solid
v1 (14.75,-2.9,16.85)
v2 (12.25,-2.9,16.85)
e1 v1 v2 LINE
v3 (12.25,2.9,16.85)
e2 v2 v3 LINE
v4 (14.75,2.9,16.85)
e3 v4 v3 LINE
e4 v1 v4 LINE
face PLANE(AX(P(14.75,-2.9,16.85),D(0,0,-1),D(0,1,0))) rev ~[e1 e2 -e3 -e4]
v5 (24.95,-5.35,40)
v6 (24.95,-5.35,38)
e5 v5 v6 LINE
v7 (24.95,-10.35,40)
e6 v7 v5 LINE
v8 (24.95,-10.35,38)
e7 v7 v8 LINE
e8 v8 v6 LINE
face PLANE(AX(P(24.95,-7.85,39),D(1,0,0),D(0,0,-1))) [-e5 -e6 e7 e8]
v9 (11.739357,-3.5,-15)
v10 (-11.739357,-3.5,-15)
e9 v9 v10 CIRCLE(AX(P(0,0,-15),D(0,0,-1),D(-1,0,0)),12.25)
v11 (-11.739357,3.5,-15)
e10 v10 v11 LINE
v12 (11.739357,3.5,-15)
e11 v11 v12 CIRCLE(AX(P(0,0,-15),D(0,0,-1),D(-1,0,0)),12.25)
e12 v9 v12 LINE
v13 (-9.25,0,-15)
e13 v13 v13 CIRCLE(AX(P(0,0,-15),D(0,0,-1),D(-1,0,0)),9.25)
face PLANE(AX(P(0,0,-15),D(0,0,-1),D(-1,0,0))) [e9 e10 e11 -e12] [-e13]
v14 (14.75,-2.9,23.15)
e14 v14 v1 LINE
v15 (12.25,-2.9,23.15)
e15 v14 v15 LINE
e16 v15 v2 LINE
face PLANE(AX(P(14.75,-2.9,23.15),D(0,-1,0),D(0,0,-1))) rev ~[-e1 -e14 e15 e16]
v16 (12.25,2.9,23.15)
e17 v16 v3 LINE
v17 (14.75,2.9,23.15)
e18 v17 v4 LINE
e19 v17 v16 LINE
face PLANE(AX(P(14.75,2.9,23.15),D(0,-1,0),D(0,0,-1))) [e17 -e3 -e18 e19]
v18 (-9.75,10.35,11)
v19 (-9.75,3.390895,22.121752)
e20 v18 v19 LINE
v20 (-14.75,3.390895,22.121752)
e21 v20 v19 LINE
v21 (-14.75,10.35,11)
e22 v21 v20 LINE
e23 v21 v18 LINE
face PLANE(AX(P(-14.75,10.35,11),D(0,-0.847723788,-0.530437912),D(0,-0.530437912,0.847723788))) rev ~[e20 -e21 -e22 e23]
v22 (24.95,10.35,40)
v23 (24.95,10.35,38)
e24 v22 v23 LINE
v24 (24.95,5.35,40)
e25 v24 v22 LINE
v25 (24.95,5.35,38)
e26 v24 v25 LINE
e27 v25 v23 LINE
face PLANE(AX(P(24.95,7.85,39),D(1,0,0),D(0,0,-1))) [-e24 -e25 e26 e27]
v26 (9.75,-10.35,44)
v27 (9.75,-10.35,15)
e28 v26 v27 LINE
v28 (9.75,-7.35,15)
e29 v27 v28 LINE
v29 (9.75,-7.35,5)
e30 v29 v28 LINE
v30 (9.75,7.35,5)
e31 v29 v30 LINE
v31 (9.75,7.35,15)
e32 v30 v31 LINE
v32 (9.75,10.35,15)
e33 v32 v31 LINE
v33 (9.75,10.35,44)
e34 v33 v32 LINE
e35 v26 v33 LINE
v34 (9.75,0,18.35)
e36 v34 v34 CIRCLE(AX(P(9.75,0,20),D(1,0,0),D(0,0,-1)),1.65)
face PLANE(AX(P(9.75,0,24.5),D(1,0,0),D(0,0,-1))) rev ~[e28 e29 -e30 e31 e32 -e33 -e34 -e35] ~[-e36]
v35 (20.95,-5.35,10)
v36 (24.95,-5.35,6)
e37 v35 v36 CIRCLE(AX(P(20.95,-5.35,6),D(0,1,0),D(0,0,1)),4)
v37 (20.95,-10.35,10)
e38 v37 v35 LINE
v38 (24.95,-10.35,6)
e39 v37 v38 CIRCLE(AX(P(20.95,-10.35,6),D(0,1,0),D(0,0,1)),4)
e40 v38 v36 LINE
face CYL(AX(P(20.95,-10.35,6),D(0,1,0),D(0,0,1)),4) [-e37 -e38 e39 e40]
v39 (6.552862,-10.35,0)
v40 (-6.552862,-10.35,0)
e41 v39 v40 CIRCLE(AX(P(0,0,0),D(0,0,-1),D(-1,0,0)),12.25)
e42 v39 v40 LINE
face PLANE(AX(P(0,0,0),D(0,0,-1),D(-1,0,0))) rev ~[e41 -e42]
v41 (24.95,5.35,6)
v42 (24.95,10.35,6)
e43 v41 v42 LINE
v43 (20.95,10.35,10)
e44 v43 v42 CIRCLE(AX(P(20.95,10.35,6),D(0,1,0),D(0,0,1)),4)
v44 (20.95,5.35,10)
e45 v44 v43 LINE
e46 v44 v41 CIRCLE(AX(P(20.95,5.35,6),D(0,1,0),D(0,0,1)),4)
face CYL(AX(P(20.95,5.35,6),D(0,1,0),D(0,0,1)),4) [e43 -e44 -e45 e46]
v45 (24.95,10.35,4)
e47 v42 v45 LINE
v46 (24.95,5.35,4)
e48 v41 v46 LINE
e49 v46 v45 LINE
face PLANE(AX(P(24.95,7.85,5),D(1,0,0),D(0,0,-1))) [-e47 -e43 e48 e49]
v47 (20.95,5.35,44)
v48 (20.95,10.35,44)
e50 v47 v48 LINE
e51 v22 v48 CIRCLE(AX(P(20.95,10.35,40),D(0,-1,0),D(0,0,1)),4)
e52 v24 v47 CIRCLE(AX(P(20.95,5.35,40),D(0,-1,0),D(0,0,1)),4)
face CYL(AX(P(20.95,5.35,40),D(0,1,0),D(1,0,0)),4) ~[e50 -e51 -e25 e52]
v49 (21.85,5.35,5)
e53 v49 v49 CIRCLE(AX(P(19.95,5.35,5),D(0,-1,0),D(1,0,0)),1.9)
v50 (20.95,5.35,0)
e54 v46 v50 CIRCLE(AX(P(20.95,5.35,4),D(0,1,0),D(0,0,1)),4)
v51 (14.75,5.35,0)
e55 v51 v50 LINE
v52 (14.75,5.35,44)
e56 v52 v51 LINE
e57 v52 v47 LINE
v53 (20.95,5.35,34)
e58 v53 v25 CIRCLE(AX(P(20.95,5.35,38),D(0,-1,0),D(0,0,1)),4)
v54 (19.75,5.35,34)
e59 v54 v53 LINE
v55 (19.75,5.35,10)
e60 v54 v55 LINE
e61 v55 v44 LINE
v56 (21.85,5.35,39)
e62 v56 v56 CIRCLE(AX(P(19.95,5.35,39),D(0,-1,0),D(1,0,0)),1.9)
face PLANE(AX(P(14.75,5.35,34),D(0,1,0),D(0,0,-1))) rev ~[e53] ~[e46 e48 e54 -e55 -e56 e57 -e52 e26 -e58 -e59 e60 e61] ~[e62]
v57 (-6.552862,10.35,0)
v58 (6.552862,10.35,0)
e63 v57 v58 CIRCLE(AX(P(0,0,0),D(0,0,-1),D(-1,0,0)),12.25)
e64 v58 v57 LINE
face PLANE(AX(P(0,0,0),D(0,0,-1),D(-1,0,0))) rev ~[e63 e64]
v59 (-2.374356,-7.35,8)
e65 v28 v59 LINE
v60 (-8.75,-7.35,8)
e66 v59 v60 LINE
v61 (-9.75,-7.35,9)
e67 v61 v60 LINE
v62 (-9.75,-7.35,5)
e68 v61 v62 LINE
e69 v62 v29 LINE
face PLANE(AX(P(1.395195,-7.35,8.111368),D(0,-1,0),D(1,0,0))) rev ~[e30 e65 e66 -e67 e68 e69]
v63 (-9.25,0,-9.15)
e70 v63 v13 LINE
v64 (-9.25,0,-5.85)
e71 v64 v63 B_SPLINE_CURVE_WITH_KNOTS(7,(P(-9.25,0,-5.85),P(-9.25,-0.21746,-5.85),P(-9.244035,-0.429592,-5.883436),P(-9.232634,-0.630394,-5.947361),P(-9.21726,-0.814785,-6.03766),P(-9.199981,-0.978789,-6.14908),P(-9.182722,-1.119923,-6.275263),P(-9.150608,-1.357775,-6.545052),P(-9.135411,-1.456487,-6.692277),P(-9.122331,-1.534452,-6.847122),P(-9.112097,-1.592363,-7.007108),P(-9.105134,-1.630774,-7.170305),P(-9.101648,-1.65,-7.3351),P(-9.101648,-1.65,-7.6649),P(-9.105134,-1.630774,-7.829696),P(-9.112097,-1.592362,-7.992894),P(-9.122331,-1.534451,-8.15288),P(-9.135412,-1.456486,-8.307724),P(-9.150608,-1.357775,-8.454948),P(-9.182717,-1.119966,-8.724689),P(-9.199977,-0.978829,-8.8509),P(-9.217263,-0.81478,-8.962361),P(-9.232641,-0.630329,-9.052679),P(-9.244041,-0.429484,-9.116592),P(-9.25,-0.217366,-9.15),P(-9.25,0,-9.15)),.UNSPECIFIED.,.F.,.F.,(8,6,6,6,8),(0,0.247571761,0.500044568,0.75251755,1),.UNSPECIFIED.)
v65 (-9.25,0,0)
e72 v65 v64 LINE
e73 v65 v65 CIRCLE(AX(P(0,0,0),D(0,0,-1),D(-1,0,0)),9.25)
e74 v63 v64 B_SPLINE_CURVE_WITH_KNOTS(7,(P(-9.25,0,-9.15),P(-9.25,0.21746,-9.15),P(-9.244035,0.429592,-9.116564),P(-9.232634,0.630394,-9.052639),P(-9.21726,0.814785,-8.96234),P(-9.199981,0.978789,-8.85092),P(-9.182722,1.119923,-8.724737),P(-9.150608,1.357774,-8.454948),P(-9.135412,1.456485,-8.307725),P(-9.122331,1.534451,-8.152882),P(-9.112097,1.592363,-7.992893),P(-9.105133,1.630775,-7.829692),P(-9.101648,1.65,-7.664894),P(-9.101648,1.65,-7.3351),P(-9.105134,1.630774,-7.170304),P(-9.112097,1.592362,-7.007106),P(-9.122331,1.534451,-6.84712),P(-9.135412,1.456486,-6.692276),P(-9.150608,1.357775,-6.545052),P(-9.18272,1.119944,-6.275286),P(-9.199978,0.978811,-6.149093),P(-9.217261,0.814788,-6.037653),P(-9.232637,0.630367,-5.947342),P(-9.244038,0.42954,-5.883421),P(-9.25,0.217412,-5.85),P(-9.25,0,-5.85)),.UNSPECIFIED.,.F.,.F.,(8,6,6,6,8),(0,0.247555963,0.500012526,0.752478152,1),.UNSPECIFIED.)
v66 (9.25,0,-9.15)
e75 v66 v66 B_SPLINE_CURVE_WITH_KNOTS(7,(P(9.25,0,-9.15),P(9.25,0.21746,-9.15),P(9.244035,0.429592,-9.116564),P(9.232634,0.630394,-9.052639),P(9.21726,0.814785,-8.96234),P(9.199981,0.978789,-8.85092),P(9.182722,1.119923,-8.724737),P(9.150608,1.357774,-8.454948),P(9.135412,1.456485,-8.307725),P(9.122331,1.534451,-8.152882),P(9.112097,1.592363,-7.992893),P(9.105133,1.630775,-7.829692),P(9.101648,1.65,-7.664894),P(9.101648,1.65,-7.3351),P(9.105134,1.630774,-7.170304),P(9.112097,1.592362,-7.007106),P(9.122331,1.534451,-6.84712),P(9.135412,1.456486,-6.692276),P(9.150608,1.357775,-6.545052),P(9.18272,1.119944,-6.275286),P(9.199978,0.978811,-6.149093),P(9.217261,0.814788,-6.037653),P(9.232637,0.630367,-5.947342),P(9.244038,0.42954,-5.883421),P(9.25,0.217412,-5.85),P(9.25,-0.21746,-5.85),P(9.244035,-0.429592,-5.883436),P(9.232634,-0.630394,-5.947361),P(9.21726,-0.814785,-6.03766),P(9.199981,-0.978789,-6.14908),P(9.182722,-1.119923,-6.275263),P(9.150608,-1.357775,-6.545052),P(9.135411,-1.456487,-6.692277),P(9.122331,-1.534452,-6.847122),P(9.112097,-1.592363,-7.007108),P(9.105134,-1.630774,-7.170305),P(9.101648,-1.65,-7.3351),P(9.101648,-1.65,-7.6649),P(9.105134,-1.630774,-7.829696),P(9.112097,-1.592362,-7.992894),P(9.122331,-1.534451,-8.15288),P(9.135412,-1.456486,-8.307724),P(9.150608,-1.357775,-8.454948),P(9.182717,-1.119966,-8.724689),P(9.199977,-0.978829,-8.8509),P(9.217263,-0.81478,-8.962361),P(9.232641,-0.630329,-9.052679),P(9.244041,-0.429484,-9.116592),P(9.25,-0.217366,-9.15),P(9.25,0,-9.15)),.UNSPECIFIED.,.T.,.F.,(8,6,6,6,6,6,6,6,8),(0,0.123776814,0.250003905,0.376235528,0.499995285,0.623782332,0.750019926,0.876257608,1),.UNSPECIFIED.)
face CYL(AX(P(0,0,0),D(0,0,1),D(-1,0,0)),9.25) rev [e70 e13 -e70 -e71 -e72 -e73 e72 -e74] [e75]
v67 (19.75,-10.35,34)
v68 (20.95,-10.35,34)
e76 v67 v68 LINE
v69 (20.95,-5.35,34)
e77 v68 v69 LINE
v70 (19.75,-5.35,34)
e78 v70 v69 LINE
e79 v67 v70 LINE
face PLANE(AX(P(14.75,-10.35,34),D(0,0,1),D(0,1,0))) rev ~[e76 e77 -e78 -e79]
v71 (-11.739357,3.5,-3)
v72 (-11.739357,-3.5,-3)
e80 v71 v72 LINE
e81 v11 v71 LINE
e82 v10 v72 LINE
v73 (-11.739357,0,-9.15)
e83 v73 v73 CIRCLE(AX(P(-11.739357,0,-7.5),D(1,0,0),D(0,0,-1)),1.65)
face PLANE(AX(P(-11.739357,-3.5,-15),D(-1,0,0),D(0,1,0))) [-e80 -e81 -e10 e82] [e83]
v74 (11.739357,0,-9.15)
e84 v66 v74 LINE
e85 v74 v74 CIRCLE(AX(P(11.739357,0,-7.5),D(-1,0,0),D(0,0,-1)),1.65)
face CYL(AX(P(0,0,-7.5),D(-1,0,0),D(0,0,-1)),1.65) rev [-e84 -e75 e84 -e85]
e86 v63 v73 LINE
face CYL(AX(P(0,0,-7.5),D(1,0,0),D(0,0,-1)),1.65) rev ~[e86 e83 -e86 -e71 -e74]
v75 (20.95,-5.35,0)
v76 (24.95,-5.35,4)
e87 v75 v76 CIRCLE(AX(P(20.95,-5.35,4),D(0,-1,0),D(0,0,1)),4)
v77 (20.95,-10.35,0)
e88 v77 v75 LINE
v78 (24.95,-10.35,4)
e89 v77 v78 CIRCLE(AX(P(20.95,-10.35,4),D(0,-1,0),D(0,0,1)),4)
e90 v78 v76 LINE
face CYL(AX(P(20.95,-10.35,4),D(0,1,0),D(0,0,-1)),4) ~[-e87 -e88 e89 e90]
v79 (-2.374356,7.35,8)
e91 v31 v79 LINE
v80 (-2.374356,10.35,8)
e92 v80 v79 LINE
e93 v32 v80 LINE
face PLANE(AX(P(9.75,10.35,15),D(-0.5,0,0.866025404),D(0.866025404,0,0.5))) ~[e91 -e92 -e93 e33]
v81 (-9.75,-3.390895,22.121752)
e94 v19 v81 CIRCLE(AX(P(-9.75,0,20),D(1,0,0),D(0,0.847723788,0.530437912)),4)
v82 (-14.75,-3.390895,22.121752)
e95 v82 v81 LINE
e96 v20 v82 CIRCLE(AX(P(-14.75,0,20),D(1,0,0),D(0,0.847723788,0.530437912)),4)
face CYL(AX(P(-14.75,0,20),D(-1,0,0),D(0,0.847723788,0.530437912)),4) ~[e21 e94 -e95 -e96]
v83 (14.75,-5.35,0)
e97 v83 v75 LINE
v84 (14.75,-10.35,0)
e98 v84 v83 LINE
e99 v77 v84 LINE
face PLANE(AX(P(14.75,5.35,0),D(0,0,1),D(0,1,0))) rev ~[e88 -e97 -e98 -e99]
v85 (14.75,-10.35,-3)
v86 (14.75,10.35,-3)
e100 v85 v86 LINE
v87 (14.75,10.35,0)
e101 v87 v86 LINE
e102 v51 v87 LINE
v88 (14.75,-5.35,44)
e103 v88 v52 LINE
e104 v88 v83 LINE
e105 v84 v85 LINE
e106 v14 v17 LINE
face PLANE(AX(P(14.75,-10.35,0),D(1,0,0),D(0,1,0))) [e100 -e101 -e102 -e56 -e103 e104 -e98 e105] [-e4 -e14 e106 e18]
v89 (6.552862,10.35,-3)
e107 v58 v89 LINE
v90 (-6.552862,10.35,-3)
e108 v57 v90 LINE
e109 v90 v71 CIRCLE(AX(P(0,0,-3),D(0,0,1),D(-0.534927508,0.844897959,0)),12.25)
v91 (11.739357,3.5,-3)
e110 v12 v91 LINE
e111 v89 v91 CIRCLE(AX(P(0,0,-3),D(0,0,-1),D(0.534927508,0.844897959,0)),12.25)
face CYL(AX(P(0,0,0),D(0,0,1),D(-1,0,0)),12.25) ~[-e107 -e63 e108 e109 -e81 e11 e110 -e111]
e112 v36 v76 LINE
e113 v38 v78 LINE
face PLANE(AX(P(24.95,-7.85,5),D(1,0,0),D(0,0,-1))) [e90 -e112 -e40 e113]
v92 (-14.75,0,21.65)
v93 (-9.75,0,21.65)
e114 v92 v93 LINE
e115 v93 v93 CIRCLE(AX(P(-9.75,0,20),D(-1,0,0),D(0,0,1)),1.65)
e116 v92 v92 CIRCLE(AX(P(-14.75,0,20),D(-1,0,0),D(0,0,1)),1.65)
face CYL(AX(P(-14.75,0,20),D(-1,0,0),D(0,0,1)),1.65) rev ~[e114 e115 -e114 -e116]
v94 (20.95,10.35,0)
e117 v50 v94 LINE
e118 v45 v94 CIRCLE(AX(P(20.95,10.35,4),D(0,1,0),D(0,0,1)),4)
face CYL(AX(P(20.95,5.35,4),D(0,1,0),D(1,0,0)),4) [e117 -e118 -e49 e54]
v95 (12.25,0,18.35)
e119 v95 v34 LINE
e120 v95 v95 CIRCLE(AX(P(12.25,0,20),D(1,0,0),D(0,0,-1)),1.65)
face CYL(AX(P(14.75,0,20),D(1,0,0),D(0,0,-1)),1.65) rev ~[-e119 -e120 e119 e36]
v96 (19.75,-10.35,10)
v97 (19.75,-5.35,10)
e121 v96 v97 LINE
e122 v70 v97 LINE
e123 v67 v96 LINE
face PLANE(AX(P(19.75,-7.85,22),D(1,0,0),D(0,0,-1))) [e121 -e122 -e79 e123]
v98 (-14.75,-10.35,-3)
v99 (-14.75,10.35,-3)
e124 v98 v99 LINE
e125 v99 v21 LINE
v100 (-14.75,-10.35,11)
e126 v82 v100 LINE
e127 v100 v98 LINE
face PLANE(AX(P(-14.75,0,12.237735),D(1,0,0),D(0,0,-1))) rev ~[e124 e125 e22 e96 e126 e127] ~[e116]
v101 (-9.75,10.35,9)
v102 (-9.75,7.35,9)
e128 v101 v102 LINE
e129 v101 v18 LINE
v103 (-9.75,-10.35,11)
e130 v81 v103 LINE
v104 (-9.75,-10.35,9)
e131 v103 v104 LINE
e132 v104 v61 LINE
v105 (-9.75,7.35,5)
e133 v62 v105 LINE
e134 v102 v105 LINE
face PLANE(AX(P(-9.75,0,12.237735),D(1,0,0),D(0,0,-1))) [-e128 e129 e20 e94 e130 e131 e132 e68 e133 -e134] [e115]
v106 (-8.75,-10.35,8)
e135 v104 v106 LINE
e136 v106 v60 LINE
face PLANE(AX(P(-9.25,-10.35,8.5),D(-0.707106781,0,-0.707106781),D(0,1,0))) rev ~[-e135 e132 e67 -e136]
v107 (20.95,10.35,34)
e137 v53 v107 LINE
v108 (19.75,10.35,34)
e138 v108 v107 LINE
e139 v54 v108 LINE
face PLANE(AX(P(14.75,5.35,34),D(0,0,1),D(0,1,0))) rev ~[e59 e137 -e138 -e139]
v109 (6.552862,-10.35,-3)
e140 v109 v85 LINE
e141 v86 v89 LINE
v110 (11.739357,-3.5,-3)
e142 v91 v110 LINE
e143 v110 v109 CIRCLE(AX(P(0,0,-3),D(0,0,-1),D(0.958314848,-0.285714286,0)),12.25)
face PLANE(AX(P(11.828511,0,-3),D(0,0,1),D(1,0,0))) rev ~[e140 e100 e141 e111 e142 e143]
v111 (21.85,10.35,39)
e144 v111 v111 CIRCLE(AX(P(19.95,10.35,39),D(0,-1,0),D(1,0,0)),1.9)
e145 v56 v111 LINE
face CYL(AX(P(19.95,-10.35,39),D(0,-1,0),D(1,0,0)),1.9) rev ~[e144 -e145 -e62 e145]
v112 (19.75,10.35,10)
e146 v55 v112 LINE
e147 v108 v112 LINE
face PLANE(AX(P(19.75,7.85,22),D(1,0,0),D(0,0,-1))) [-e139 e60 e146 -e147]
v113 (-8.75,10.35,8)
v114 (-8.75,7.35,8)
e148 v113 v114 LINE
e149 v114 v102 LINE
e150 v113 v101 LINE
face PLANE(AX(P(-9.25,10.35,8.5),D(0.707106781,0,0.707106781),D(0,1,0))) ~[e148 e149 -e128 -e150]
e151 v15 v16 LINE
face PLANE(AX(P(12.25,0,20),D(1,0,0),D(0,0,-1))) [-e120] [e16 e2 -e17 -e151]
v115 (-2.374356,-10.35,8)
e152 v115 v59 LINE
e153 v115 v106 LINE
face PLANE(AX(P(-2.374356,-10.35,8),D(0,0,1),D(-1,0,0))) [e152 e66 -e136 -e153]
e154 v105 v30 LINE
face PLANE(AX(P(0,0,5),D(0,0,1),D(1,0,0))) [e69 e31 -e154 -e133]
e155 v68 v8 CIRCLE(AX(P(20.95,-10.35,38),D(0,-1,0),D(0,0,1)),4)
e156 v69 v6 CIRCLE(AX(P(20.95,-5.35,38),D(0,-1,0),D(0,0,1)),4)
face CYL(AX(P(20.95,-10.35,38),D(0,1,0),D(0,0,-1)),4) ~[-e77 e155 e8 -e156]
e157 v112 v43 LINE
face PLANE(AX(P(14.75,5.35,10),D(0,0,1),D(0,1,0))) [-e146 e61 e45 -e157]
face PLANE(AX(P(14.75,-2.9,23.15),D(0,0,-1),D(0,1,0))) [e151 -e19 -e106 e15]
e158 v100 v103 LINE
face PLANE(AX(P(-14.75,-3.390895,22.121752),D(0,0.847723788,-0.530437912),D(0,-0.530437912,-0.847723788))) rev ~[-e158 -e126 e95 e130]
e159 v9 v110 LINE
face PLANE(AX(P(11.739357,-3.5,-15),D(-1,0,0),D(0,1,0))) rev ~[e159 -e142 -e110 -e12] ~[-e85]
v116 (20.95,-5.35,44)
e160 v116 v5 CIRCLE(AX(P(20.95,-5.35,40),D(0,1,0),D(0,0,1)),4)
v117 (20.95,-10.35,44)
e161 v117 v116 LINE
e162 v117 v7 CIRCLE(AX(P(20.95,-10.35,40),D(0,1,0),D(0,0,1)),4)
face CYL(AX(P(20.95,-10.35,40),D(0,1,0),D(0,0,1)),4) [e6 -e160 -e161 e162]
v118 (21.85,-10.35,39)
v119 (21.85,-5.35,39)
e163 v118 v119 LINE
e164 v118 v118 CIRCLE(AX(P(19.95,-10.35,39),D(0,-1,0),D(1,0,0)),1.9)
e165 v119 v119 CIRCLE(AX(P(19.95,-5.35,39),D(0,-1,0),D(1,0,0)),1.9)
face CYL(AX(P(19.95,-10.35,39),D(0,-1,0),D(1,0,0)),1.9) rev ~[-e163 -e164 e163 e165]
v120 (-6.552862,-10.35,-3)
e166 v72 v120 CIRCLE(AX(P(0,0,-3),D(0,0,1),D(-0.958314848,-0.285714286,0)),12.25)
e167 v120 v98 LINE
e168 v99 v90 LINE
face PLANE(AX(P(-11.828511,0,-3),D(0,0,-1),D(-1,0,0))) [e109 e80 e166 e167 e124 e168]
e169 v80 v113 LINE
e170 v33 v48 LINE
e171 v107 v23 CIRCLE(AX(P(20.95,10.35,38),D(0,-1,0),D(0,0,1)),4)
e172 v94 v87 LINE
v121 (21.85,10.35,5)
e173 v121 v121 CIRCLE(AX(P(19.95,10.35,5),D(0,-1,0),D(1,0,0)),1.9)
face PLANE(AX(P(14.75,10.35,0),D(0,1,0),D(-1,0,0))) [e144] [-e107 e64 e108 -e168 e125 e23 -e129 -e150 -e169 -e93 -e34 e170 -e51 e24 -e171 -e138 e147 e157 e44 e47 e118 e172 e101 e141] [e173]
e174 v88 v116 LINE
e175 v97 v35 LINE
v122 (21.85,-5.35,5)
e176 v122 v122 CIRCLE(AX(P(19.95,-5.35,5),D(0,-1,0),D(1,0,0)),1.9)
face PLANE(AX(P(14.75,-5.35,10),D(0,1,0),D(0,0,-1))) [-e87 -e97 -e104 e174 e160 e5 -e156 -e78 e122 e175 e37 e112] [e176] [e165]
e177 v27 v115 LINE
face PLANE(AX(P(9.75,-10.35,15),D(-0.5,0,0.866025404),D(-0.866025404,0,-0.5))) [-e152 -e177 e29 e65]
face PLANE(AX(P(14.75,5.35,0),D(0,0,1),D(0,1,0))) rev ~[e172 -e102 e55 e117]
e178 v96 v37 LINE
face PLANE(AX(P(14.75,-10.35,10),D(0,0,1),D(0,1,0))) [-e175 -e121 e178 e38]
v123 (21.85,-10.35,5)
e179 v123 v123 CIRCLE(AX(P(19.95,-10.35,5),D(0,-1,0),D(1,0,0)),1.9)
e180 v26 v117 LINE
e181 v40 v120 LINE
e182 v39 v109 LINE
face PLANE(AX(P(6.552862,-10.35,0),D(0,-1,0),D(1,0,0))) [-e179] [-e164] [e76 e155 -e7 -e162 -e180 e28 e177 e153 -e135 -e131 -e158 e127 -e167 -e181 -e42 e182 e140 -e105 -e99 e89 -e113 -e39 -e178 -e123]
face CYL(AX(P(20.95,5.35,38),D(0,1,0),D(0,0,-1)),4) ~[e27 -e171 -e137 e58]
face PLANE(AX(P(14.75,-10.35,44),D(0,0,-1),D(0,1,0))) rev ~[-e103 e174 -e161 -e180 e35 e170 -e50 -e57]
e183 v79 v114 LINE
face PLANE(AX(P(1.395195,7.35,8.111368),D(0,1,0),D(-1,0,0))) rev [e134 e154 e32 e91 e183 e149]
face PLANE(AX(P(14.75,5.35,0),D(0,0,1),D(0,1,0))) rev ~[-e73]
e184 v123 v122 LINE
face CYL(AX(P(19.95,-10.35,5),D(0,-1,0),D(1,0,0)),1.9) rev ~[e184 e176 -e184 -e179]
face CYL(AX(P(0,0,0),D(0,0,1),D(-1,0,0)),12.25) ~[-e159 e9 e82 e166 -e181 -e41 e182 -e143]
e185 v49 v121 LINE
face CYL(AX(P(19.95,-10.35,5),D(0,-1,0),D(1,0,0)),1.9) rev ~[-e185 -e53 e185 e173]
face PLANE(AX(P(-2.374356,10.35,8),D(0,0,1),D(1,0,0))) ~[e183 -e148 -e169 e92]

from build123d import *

# Parameters (mm, degrees)
SKETCH_1_R               = 6.325
EXTRUDE_1_DEPTH          = 15
SKETCH_2_W               = 29.5
SKETCH_2_H               = 20.7
EXTRUDE_2_DEPTH          = 5
SKETCH_3_W               = 39
SKETCH_3_H               = 20.7
SKETCH_3_R               = 1.65
EXTRUDE_3_DEPTH          = 5
SKETCH_4_W               = 10
SKETCH_4_H               = 5
EXTRUDE_4_DEPTH          = 10.2
SKETCH_5_R               = 1.9
CUT_EXTRUDE_1_DEPTH      = 21.7
FILLET_1_R               = 4
SKETCH_8_W               = 24
SKETCH_8_H               = 5
EXTRUDE_6_DEPTH          = 5
SKETCH_9_R               = 1.65
EXTRUDE_7_DEPTH          = 5
EXTRUDE_5_DEPTH          = 3
CHAMFER_2_SIZE           = 1
SKETCH_10_W              = 6.3
SKETCH_10_H              = 5.8
CUT_EXTRUDE_2_DEPTH      = 2.5
SKETCH_11_R              = 1.65
CUT_EXTRUDE_3_DEPTH      = 25.95
CUT_EXTRUDE_3_DEPTH_BACK = 15.75
CHAMFER_3_SIZE           = 1
CUT_EXTRUDE_4_DEPTH      = 1
CUT_EXTRUDE_4_DEPTH_BACK = 21.7
SKETCH_13_R              = 12.25
SKETCH_13_R_2            = 9.25
EXTRUDE_8_DEPTH          = 15
SKETCH_14_R              = 1.65
CUT_EXTRUDE_5_DEPTH      = 25.95
CUT_EXTRUDE_5_DEPTH_BACK = 15.75
SKETCH_15_W              = 4.137033229
SKETCH_15_H              = 7
CUT_EXTRUDE_6_DEPTH      = 15
EXTRUDE_9_DEPTH          = 3


with BuildPart() as part:
    # ｽｹｯﾁ1 → ﾎﾞｽ - 押し出し1 (new body)
    with BuildSketch(Plane.XY):
        Circle(SKETCH_1_R)
    extrude(amount=-EXTRUDE_1_DEPTH)

    # ｽｹｯﾁ2 → ﾎﾞｽ - 押し出し2 (add)
    with BuildSketch(Plane.XY):
        Rectangle(SKETCH_2_W, SKETCH_2_H)
    extrude(amount=EXTRUDE_2_DEPTH)

    # ｽｹｯﾁ3 → ﾎﾞｽ - 押し出し3 (add)
    with BuildSketch(Plane(origin=(14.75, 0, 0), x_dir=(0, 0, -1), z_dir=(1, 0, 0))):
        with Locations((-24.5, 0)):
            Rectangle(SKETCH_3_W, SKETCH_3_H)
        with Locations((-20, 0)):
            Circle(SKETCH_3_R, mode=Mode.SUBTRACT)
    extrude(amount=-EXTRUDE_3_DEPTH)

    # ｽｹｯﾁ4 → ﾎﾞｽ - 押し出し4 (add)
    with BuildSketch(Plane(origin=(14.75, 0, 0), x_dir=(0, 0, -1), z_dir=(1, 0, 0))):
        with Locations((-5, 7.85)):
            Rectangle(SKETCH_4_W, SKETCH_4_H)
        with Locations((-5, -7.85)):
            Rectangle(SKETCH_4_W, SKETCH_4_H)
        with Locations((-39, 7.85)):
            Rectangle(SKETCH_4_W, SKETCH_4_H)
        with Locations((-39, -7.85)):
            Rectangle(SKETCH_4_W, SKETCH_4_H)
    extrude(amount=EXTRUDE_4_DEPTH)

    # ｽｹｯﾁ5 → ｶｯﾄ - 押し出し1 (cut, through all)
    with BuildSketch(Plane.XZ.offset(10.35)):
        with Locations((19.95, 5)):
            Circle(SKETCH_5_R)
        with Locations((19.95, 39)):
            Circle(SKETCH_5_R)
    extrude(amount=-CUT_EXTRUDE_1_DEPTH, mode=Mode.SUBTRACT)

    # ﾌｨﾚｯﾄ1
    fillet_1_edges = [part.edges().sort_by_distance(p)[0] for p in [
        (24.95, 7.85, 0),
        (24.95, 7.85, 10),
        (24.95, -7.85, 0),
        (24.95, -7.85, 10),
        (24.95, -7.85, 44),
        (24.95, -7.85, 34),
        (24.95, 7.85, 44),
        (24.95, 7.85, 34),
    ]]
    fillet(fillet_1_edges, radius=FILLET_1_R)

    # ｽｹｯﾁ8 → ﾎﾞｽ - 押し出し6 (add)
    with BuildSketch(Plane(origin=(14.75, 0, 0), x_dir=(0, 0, -1), z_dir=(1, 0, 0))):
        with Locations((-22, 7.85)):
            Rectangle(SKETCH_8_W, SKETCH_8_H)
        with Locations((-22, -7.85)):
            Rectangle(SKETCH_8_W, SKETCH_8_H)
    extrude(amount=EXTRUDE_6_DEPTH)

    # ｽｹｯﾁ9 → ﾎﾞｽ - 押し出し7 (add)
    with BuildSketch(Plane.ZY.offset(14.75)):
        with BuildLine():
            Line((5, 10.35), (11, 10.35))
            Line((11, 10.35), (22.121751649, 3.390895153))
            ThreePointArc((22.121751649, 3.390895153), (24, 0), (22.121751649, -3.390895153))
            Line((22.121751649, -3.390895153), (11, -10.35))
            Line((11, -10.35), (5, -10.35))
            Line((5, -10.35), (5, 10.35))
        make_face()
        with Locations((20, 0)):
            Circle(SKETCH_9_R, mode=Mode.SUBTRACT)
    extrude(amount=-EXTRUDE_7_DEPTH)

    # ｽｹｯﾁ6 → ﾎﾞｽ - 押し出し5 (add)
    with BuildSketch(Plane.XZ.offset(10.35)):
        Polygon((-9.75, 5), (9.75, 5), (9.75, 15), (-2.374355653, 8), (-9.75, 8), align=None)
    extrude_5 = extrude(amount=-EXTRUDE_5_DEPTH)

    # ﾐﾗｰ1: ﾎﾞｽ - 押し出し5 across plane
    add(extrude_5.mirror(Plane.ZX))

    # 面取り2
    chamfer_2_edges = [part.edges().sort_by_distance(p)[0] for p in [
        (-9.75, -8.85, 8),
        (-9.75, 8.85, 8),
    ]]
    chamfer(chamfer_2_edges, length=CHAMFER_2_SIZE)

    # ｽｹｯﾁ10 → ｶｯﾄ - 押し出し2 (cut)
    with BuildSketch(Plane(origin=(14.75, 0, 0), x_dir=(0, 0, -1), z_dir=(1, 0, 0))):
        with Locations((-20, 0)):
            Rectangle(SKETCH_10_W, SKETCH_10_H)
    extrude(amount=-CUT_EXTRUDE_2_DEPTH, mode=Mode.SUBTRACT)

    # ｽｹｯﾁ11 → ｶｯﾄ - 押し出し3 (cut, two sides)
    with BuildSketch(Plane(origin=(0, 0, 0), x_dir=(0, 0, -1), z_dir=(1, 0, 0))) as cut_extrude_3_sk:
        with Locations((7.5, 0)):
            Circle(SKETCH_11_R)
    extrude(amount=CUT_EXTRUDE_3_DEPTH, mode=Mode.SUBTRACT)
    extrude(cut_extrude_3_sk.sketch, amount=-CUT_EXTRUDE_3_DEPTH_BACK, mode=Mode.SUBTRACT)

    # 面取り3
    chamfer_3_edges = [part.edges().sort_by_distance(p)[0] for p in [
        (-6.325, 0, -15),
    ]]
    chamfer(chamfer_3_edges, length=CHAMFER_3_SIZE)

    # ｽｹｯﾁ12 → ｶｯﾄ - 押し出し4 (cut, two sides)
    with BuildSketch(Plane(origin=(0, 10.35, 0), x_dir=(1, 0, 0), z_dir=(0, 1, 0))) as cut_extrude_4_sk:
        Polygon((-157.887970151, 0), (-20.856584832, 0), (30.621949215, 0), (167.653334534, 0), (167.653334534, 274.062770638), (-157.887970151, 274.062770638), align=None)
    extrude(amount=CUT_EXTRUDE_4_DEPTH, mode=Mode.SUBTRACT)
    extrude(cut_extrude_4_sk.sketch, amount=-CUT_EXTRUDE_4_DEPTH_BACK, mode=Mode.SUBTRACT)

    # ｽｹｯﾁ13 → ﾎﾞｽ - 押し出し8 (add)
    with BuildSketch(Plane(origin=(0, 0, 0), x_dir=(-1, 0, 0), z_dir=(0, 0, -1))):
        Circle(SKETCH_13_R)
        Circle(SKETCH_13_R_2, mode=Mode.SUBTRACT)
    extrude(amount=EXTRUDE_8_DEPTH)

    # ｽｹｯﾁ14 → ｶｯﾄ - 押し出し5 (cut, two sides)
    with BuildSketch(Plane(origin=(0, 0, 0), x_dir=(0, 0, -1), z_dir=(1, 0, 0))) as cut_extrude_5_sk:
        with Locations((7.5, 0)):
            Circle(SKETCH_14_R)
    extrude(amount=CUT_EXTRUDE_5_DEPTH, mode=Mode.SUBTRACT)
    extrude(cut_extrude_5_sk.sketch, amount=-CUT_EXTRUDE_5_DEPTH_BACK, mode=Mode.SUBTRACT)

    # ｽｹｯﾁ15 → ｶｯﾄ - 押し出し6 (cut)
    with BuildSketch(Plane(origin=(0, 0, -15), x_dir=(-1, 0, 0), z_dir=(0, 0, -1))):
        with Locations((-13.807873497, 0)):
            Rectangle(SKETCH_15_W, SKETCH_15_H)
        with Locations((13.807873497, 0)):
            Rectangle(SKETCH_15_W, SKETCH_15_H)
    extrude(amount=-CUT_EXTRUDE_6_DEPTH, mode=Mode.SUBTRACT)

    # ｽｹｯﾁ16 → ﾎﾞｽ - 押し出し9 (add)
    with BuildSketch(Plane(origin=(0, 0, 0), x_dir=(-1, 0, 0), z_dir=(0, 0, -1))):
        with BuildLine():
            Line((-11.739356882, 3.5), (-11.739356882, -3.5))
            ThreePointArc((-11.739356882, -3.5), (-9.766367935, -7.394630306), (-6.55286197, -10.35))
            Line((-6.55286197, -10.35), (-14.75, -10.35))
            Line((-14.75, -10.35), (-14.75, 10.35))
            Line((-14.75, 10.35), (-6.55286197, 10.35))
            ThreePointArc((-6.55286197, 10.35), (-9.766367935, 7.394630306), (-11.739356882, 3.5))
        make_face()
        with BuildLine():
            Line((6.55286197, -10.35), (14.75, -10.35))
            Line((14.75, -10.35), (14.75, 10.35))
            Line((14.75, 10.35), (6.55286197, 10.35))
            ThreePointArc((6.55286197, 10.35), (9.766367935, 7.394630306), (11.739356882, 3.5))
            Line((11.739356882, 3.5), (11.739356882, -3.5))
            ThreePointArc((11.739356882, -3.5), (9.766367935, -7.394630306), (6.55286197, -10.35))
        make_face()
    extrude(amount=EXTRUDE_9_DEPTH)


solid = part.part
